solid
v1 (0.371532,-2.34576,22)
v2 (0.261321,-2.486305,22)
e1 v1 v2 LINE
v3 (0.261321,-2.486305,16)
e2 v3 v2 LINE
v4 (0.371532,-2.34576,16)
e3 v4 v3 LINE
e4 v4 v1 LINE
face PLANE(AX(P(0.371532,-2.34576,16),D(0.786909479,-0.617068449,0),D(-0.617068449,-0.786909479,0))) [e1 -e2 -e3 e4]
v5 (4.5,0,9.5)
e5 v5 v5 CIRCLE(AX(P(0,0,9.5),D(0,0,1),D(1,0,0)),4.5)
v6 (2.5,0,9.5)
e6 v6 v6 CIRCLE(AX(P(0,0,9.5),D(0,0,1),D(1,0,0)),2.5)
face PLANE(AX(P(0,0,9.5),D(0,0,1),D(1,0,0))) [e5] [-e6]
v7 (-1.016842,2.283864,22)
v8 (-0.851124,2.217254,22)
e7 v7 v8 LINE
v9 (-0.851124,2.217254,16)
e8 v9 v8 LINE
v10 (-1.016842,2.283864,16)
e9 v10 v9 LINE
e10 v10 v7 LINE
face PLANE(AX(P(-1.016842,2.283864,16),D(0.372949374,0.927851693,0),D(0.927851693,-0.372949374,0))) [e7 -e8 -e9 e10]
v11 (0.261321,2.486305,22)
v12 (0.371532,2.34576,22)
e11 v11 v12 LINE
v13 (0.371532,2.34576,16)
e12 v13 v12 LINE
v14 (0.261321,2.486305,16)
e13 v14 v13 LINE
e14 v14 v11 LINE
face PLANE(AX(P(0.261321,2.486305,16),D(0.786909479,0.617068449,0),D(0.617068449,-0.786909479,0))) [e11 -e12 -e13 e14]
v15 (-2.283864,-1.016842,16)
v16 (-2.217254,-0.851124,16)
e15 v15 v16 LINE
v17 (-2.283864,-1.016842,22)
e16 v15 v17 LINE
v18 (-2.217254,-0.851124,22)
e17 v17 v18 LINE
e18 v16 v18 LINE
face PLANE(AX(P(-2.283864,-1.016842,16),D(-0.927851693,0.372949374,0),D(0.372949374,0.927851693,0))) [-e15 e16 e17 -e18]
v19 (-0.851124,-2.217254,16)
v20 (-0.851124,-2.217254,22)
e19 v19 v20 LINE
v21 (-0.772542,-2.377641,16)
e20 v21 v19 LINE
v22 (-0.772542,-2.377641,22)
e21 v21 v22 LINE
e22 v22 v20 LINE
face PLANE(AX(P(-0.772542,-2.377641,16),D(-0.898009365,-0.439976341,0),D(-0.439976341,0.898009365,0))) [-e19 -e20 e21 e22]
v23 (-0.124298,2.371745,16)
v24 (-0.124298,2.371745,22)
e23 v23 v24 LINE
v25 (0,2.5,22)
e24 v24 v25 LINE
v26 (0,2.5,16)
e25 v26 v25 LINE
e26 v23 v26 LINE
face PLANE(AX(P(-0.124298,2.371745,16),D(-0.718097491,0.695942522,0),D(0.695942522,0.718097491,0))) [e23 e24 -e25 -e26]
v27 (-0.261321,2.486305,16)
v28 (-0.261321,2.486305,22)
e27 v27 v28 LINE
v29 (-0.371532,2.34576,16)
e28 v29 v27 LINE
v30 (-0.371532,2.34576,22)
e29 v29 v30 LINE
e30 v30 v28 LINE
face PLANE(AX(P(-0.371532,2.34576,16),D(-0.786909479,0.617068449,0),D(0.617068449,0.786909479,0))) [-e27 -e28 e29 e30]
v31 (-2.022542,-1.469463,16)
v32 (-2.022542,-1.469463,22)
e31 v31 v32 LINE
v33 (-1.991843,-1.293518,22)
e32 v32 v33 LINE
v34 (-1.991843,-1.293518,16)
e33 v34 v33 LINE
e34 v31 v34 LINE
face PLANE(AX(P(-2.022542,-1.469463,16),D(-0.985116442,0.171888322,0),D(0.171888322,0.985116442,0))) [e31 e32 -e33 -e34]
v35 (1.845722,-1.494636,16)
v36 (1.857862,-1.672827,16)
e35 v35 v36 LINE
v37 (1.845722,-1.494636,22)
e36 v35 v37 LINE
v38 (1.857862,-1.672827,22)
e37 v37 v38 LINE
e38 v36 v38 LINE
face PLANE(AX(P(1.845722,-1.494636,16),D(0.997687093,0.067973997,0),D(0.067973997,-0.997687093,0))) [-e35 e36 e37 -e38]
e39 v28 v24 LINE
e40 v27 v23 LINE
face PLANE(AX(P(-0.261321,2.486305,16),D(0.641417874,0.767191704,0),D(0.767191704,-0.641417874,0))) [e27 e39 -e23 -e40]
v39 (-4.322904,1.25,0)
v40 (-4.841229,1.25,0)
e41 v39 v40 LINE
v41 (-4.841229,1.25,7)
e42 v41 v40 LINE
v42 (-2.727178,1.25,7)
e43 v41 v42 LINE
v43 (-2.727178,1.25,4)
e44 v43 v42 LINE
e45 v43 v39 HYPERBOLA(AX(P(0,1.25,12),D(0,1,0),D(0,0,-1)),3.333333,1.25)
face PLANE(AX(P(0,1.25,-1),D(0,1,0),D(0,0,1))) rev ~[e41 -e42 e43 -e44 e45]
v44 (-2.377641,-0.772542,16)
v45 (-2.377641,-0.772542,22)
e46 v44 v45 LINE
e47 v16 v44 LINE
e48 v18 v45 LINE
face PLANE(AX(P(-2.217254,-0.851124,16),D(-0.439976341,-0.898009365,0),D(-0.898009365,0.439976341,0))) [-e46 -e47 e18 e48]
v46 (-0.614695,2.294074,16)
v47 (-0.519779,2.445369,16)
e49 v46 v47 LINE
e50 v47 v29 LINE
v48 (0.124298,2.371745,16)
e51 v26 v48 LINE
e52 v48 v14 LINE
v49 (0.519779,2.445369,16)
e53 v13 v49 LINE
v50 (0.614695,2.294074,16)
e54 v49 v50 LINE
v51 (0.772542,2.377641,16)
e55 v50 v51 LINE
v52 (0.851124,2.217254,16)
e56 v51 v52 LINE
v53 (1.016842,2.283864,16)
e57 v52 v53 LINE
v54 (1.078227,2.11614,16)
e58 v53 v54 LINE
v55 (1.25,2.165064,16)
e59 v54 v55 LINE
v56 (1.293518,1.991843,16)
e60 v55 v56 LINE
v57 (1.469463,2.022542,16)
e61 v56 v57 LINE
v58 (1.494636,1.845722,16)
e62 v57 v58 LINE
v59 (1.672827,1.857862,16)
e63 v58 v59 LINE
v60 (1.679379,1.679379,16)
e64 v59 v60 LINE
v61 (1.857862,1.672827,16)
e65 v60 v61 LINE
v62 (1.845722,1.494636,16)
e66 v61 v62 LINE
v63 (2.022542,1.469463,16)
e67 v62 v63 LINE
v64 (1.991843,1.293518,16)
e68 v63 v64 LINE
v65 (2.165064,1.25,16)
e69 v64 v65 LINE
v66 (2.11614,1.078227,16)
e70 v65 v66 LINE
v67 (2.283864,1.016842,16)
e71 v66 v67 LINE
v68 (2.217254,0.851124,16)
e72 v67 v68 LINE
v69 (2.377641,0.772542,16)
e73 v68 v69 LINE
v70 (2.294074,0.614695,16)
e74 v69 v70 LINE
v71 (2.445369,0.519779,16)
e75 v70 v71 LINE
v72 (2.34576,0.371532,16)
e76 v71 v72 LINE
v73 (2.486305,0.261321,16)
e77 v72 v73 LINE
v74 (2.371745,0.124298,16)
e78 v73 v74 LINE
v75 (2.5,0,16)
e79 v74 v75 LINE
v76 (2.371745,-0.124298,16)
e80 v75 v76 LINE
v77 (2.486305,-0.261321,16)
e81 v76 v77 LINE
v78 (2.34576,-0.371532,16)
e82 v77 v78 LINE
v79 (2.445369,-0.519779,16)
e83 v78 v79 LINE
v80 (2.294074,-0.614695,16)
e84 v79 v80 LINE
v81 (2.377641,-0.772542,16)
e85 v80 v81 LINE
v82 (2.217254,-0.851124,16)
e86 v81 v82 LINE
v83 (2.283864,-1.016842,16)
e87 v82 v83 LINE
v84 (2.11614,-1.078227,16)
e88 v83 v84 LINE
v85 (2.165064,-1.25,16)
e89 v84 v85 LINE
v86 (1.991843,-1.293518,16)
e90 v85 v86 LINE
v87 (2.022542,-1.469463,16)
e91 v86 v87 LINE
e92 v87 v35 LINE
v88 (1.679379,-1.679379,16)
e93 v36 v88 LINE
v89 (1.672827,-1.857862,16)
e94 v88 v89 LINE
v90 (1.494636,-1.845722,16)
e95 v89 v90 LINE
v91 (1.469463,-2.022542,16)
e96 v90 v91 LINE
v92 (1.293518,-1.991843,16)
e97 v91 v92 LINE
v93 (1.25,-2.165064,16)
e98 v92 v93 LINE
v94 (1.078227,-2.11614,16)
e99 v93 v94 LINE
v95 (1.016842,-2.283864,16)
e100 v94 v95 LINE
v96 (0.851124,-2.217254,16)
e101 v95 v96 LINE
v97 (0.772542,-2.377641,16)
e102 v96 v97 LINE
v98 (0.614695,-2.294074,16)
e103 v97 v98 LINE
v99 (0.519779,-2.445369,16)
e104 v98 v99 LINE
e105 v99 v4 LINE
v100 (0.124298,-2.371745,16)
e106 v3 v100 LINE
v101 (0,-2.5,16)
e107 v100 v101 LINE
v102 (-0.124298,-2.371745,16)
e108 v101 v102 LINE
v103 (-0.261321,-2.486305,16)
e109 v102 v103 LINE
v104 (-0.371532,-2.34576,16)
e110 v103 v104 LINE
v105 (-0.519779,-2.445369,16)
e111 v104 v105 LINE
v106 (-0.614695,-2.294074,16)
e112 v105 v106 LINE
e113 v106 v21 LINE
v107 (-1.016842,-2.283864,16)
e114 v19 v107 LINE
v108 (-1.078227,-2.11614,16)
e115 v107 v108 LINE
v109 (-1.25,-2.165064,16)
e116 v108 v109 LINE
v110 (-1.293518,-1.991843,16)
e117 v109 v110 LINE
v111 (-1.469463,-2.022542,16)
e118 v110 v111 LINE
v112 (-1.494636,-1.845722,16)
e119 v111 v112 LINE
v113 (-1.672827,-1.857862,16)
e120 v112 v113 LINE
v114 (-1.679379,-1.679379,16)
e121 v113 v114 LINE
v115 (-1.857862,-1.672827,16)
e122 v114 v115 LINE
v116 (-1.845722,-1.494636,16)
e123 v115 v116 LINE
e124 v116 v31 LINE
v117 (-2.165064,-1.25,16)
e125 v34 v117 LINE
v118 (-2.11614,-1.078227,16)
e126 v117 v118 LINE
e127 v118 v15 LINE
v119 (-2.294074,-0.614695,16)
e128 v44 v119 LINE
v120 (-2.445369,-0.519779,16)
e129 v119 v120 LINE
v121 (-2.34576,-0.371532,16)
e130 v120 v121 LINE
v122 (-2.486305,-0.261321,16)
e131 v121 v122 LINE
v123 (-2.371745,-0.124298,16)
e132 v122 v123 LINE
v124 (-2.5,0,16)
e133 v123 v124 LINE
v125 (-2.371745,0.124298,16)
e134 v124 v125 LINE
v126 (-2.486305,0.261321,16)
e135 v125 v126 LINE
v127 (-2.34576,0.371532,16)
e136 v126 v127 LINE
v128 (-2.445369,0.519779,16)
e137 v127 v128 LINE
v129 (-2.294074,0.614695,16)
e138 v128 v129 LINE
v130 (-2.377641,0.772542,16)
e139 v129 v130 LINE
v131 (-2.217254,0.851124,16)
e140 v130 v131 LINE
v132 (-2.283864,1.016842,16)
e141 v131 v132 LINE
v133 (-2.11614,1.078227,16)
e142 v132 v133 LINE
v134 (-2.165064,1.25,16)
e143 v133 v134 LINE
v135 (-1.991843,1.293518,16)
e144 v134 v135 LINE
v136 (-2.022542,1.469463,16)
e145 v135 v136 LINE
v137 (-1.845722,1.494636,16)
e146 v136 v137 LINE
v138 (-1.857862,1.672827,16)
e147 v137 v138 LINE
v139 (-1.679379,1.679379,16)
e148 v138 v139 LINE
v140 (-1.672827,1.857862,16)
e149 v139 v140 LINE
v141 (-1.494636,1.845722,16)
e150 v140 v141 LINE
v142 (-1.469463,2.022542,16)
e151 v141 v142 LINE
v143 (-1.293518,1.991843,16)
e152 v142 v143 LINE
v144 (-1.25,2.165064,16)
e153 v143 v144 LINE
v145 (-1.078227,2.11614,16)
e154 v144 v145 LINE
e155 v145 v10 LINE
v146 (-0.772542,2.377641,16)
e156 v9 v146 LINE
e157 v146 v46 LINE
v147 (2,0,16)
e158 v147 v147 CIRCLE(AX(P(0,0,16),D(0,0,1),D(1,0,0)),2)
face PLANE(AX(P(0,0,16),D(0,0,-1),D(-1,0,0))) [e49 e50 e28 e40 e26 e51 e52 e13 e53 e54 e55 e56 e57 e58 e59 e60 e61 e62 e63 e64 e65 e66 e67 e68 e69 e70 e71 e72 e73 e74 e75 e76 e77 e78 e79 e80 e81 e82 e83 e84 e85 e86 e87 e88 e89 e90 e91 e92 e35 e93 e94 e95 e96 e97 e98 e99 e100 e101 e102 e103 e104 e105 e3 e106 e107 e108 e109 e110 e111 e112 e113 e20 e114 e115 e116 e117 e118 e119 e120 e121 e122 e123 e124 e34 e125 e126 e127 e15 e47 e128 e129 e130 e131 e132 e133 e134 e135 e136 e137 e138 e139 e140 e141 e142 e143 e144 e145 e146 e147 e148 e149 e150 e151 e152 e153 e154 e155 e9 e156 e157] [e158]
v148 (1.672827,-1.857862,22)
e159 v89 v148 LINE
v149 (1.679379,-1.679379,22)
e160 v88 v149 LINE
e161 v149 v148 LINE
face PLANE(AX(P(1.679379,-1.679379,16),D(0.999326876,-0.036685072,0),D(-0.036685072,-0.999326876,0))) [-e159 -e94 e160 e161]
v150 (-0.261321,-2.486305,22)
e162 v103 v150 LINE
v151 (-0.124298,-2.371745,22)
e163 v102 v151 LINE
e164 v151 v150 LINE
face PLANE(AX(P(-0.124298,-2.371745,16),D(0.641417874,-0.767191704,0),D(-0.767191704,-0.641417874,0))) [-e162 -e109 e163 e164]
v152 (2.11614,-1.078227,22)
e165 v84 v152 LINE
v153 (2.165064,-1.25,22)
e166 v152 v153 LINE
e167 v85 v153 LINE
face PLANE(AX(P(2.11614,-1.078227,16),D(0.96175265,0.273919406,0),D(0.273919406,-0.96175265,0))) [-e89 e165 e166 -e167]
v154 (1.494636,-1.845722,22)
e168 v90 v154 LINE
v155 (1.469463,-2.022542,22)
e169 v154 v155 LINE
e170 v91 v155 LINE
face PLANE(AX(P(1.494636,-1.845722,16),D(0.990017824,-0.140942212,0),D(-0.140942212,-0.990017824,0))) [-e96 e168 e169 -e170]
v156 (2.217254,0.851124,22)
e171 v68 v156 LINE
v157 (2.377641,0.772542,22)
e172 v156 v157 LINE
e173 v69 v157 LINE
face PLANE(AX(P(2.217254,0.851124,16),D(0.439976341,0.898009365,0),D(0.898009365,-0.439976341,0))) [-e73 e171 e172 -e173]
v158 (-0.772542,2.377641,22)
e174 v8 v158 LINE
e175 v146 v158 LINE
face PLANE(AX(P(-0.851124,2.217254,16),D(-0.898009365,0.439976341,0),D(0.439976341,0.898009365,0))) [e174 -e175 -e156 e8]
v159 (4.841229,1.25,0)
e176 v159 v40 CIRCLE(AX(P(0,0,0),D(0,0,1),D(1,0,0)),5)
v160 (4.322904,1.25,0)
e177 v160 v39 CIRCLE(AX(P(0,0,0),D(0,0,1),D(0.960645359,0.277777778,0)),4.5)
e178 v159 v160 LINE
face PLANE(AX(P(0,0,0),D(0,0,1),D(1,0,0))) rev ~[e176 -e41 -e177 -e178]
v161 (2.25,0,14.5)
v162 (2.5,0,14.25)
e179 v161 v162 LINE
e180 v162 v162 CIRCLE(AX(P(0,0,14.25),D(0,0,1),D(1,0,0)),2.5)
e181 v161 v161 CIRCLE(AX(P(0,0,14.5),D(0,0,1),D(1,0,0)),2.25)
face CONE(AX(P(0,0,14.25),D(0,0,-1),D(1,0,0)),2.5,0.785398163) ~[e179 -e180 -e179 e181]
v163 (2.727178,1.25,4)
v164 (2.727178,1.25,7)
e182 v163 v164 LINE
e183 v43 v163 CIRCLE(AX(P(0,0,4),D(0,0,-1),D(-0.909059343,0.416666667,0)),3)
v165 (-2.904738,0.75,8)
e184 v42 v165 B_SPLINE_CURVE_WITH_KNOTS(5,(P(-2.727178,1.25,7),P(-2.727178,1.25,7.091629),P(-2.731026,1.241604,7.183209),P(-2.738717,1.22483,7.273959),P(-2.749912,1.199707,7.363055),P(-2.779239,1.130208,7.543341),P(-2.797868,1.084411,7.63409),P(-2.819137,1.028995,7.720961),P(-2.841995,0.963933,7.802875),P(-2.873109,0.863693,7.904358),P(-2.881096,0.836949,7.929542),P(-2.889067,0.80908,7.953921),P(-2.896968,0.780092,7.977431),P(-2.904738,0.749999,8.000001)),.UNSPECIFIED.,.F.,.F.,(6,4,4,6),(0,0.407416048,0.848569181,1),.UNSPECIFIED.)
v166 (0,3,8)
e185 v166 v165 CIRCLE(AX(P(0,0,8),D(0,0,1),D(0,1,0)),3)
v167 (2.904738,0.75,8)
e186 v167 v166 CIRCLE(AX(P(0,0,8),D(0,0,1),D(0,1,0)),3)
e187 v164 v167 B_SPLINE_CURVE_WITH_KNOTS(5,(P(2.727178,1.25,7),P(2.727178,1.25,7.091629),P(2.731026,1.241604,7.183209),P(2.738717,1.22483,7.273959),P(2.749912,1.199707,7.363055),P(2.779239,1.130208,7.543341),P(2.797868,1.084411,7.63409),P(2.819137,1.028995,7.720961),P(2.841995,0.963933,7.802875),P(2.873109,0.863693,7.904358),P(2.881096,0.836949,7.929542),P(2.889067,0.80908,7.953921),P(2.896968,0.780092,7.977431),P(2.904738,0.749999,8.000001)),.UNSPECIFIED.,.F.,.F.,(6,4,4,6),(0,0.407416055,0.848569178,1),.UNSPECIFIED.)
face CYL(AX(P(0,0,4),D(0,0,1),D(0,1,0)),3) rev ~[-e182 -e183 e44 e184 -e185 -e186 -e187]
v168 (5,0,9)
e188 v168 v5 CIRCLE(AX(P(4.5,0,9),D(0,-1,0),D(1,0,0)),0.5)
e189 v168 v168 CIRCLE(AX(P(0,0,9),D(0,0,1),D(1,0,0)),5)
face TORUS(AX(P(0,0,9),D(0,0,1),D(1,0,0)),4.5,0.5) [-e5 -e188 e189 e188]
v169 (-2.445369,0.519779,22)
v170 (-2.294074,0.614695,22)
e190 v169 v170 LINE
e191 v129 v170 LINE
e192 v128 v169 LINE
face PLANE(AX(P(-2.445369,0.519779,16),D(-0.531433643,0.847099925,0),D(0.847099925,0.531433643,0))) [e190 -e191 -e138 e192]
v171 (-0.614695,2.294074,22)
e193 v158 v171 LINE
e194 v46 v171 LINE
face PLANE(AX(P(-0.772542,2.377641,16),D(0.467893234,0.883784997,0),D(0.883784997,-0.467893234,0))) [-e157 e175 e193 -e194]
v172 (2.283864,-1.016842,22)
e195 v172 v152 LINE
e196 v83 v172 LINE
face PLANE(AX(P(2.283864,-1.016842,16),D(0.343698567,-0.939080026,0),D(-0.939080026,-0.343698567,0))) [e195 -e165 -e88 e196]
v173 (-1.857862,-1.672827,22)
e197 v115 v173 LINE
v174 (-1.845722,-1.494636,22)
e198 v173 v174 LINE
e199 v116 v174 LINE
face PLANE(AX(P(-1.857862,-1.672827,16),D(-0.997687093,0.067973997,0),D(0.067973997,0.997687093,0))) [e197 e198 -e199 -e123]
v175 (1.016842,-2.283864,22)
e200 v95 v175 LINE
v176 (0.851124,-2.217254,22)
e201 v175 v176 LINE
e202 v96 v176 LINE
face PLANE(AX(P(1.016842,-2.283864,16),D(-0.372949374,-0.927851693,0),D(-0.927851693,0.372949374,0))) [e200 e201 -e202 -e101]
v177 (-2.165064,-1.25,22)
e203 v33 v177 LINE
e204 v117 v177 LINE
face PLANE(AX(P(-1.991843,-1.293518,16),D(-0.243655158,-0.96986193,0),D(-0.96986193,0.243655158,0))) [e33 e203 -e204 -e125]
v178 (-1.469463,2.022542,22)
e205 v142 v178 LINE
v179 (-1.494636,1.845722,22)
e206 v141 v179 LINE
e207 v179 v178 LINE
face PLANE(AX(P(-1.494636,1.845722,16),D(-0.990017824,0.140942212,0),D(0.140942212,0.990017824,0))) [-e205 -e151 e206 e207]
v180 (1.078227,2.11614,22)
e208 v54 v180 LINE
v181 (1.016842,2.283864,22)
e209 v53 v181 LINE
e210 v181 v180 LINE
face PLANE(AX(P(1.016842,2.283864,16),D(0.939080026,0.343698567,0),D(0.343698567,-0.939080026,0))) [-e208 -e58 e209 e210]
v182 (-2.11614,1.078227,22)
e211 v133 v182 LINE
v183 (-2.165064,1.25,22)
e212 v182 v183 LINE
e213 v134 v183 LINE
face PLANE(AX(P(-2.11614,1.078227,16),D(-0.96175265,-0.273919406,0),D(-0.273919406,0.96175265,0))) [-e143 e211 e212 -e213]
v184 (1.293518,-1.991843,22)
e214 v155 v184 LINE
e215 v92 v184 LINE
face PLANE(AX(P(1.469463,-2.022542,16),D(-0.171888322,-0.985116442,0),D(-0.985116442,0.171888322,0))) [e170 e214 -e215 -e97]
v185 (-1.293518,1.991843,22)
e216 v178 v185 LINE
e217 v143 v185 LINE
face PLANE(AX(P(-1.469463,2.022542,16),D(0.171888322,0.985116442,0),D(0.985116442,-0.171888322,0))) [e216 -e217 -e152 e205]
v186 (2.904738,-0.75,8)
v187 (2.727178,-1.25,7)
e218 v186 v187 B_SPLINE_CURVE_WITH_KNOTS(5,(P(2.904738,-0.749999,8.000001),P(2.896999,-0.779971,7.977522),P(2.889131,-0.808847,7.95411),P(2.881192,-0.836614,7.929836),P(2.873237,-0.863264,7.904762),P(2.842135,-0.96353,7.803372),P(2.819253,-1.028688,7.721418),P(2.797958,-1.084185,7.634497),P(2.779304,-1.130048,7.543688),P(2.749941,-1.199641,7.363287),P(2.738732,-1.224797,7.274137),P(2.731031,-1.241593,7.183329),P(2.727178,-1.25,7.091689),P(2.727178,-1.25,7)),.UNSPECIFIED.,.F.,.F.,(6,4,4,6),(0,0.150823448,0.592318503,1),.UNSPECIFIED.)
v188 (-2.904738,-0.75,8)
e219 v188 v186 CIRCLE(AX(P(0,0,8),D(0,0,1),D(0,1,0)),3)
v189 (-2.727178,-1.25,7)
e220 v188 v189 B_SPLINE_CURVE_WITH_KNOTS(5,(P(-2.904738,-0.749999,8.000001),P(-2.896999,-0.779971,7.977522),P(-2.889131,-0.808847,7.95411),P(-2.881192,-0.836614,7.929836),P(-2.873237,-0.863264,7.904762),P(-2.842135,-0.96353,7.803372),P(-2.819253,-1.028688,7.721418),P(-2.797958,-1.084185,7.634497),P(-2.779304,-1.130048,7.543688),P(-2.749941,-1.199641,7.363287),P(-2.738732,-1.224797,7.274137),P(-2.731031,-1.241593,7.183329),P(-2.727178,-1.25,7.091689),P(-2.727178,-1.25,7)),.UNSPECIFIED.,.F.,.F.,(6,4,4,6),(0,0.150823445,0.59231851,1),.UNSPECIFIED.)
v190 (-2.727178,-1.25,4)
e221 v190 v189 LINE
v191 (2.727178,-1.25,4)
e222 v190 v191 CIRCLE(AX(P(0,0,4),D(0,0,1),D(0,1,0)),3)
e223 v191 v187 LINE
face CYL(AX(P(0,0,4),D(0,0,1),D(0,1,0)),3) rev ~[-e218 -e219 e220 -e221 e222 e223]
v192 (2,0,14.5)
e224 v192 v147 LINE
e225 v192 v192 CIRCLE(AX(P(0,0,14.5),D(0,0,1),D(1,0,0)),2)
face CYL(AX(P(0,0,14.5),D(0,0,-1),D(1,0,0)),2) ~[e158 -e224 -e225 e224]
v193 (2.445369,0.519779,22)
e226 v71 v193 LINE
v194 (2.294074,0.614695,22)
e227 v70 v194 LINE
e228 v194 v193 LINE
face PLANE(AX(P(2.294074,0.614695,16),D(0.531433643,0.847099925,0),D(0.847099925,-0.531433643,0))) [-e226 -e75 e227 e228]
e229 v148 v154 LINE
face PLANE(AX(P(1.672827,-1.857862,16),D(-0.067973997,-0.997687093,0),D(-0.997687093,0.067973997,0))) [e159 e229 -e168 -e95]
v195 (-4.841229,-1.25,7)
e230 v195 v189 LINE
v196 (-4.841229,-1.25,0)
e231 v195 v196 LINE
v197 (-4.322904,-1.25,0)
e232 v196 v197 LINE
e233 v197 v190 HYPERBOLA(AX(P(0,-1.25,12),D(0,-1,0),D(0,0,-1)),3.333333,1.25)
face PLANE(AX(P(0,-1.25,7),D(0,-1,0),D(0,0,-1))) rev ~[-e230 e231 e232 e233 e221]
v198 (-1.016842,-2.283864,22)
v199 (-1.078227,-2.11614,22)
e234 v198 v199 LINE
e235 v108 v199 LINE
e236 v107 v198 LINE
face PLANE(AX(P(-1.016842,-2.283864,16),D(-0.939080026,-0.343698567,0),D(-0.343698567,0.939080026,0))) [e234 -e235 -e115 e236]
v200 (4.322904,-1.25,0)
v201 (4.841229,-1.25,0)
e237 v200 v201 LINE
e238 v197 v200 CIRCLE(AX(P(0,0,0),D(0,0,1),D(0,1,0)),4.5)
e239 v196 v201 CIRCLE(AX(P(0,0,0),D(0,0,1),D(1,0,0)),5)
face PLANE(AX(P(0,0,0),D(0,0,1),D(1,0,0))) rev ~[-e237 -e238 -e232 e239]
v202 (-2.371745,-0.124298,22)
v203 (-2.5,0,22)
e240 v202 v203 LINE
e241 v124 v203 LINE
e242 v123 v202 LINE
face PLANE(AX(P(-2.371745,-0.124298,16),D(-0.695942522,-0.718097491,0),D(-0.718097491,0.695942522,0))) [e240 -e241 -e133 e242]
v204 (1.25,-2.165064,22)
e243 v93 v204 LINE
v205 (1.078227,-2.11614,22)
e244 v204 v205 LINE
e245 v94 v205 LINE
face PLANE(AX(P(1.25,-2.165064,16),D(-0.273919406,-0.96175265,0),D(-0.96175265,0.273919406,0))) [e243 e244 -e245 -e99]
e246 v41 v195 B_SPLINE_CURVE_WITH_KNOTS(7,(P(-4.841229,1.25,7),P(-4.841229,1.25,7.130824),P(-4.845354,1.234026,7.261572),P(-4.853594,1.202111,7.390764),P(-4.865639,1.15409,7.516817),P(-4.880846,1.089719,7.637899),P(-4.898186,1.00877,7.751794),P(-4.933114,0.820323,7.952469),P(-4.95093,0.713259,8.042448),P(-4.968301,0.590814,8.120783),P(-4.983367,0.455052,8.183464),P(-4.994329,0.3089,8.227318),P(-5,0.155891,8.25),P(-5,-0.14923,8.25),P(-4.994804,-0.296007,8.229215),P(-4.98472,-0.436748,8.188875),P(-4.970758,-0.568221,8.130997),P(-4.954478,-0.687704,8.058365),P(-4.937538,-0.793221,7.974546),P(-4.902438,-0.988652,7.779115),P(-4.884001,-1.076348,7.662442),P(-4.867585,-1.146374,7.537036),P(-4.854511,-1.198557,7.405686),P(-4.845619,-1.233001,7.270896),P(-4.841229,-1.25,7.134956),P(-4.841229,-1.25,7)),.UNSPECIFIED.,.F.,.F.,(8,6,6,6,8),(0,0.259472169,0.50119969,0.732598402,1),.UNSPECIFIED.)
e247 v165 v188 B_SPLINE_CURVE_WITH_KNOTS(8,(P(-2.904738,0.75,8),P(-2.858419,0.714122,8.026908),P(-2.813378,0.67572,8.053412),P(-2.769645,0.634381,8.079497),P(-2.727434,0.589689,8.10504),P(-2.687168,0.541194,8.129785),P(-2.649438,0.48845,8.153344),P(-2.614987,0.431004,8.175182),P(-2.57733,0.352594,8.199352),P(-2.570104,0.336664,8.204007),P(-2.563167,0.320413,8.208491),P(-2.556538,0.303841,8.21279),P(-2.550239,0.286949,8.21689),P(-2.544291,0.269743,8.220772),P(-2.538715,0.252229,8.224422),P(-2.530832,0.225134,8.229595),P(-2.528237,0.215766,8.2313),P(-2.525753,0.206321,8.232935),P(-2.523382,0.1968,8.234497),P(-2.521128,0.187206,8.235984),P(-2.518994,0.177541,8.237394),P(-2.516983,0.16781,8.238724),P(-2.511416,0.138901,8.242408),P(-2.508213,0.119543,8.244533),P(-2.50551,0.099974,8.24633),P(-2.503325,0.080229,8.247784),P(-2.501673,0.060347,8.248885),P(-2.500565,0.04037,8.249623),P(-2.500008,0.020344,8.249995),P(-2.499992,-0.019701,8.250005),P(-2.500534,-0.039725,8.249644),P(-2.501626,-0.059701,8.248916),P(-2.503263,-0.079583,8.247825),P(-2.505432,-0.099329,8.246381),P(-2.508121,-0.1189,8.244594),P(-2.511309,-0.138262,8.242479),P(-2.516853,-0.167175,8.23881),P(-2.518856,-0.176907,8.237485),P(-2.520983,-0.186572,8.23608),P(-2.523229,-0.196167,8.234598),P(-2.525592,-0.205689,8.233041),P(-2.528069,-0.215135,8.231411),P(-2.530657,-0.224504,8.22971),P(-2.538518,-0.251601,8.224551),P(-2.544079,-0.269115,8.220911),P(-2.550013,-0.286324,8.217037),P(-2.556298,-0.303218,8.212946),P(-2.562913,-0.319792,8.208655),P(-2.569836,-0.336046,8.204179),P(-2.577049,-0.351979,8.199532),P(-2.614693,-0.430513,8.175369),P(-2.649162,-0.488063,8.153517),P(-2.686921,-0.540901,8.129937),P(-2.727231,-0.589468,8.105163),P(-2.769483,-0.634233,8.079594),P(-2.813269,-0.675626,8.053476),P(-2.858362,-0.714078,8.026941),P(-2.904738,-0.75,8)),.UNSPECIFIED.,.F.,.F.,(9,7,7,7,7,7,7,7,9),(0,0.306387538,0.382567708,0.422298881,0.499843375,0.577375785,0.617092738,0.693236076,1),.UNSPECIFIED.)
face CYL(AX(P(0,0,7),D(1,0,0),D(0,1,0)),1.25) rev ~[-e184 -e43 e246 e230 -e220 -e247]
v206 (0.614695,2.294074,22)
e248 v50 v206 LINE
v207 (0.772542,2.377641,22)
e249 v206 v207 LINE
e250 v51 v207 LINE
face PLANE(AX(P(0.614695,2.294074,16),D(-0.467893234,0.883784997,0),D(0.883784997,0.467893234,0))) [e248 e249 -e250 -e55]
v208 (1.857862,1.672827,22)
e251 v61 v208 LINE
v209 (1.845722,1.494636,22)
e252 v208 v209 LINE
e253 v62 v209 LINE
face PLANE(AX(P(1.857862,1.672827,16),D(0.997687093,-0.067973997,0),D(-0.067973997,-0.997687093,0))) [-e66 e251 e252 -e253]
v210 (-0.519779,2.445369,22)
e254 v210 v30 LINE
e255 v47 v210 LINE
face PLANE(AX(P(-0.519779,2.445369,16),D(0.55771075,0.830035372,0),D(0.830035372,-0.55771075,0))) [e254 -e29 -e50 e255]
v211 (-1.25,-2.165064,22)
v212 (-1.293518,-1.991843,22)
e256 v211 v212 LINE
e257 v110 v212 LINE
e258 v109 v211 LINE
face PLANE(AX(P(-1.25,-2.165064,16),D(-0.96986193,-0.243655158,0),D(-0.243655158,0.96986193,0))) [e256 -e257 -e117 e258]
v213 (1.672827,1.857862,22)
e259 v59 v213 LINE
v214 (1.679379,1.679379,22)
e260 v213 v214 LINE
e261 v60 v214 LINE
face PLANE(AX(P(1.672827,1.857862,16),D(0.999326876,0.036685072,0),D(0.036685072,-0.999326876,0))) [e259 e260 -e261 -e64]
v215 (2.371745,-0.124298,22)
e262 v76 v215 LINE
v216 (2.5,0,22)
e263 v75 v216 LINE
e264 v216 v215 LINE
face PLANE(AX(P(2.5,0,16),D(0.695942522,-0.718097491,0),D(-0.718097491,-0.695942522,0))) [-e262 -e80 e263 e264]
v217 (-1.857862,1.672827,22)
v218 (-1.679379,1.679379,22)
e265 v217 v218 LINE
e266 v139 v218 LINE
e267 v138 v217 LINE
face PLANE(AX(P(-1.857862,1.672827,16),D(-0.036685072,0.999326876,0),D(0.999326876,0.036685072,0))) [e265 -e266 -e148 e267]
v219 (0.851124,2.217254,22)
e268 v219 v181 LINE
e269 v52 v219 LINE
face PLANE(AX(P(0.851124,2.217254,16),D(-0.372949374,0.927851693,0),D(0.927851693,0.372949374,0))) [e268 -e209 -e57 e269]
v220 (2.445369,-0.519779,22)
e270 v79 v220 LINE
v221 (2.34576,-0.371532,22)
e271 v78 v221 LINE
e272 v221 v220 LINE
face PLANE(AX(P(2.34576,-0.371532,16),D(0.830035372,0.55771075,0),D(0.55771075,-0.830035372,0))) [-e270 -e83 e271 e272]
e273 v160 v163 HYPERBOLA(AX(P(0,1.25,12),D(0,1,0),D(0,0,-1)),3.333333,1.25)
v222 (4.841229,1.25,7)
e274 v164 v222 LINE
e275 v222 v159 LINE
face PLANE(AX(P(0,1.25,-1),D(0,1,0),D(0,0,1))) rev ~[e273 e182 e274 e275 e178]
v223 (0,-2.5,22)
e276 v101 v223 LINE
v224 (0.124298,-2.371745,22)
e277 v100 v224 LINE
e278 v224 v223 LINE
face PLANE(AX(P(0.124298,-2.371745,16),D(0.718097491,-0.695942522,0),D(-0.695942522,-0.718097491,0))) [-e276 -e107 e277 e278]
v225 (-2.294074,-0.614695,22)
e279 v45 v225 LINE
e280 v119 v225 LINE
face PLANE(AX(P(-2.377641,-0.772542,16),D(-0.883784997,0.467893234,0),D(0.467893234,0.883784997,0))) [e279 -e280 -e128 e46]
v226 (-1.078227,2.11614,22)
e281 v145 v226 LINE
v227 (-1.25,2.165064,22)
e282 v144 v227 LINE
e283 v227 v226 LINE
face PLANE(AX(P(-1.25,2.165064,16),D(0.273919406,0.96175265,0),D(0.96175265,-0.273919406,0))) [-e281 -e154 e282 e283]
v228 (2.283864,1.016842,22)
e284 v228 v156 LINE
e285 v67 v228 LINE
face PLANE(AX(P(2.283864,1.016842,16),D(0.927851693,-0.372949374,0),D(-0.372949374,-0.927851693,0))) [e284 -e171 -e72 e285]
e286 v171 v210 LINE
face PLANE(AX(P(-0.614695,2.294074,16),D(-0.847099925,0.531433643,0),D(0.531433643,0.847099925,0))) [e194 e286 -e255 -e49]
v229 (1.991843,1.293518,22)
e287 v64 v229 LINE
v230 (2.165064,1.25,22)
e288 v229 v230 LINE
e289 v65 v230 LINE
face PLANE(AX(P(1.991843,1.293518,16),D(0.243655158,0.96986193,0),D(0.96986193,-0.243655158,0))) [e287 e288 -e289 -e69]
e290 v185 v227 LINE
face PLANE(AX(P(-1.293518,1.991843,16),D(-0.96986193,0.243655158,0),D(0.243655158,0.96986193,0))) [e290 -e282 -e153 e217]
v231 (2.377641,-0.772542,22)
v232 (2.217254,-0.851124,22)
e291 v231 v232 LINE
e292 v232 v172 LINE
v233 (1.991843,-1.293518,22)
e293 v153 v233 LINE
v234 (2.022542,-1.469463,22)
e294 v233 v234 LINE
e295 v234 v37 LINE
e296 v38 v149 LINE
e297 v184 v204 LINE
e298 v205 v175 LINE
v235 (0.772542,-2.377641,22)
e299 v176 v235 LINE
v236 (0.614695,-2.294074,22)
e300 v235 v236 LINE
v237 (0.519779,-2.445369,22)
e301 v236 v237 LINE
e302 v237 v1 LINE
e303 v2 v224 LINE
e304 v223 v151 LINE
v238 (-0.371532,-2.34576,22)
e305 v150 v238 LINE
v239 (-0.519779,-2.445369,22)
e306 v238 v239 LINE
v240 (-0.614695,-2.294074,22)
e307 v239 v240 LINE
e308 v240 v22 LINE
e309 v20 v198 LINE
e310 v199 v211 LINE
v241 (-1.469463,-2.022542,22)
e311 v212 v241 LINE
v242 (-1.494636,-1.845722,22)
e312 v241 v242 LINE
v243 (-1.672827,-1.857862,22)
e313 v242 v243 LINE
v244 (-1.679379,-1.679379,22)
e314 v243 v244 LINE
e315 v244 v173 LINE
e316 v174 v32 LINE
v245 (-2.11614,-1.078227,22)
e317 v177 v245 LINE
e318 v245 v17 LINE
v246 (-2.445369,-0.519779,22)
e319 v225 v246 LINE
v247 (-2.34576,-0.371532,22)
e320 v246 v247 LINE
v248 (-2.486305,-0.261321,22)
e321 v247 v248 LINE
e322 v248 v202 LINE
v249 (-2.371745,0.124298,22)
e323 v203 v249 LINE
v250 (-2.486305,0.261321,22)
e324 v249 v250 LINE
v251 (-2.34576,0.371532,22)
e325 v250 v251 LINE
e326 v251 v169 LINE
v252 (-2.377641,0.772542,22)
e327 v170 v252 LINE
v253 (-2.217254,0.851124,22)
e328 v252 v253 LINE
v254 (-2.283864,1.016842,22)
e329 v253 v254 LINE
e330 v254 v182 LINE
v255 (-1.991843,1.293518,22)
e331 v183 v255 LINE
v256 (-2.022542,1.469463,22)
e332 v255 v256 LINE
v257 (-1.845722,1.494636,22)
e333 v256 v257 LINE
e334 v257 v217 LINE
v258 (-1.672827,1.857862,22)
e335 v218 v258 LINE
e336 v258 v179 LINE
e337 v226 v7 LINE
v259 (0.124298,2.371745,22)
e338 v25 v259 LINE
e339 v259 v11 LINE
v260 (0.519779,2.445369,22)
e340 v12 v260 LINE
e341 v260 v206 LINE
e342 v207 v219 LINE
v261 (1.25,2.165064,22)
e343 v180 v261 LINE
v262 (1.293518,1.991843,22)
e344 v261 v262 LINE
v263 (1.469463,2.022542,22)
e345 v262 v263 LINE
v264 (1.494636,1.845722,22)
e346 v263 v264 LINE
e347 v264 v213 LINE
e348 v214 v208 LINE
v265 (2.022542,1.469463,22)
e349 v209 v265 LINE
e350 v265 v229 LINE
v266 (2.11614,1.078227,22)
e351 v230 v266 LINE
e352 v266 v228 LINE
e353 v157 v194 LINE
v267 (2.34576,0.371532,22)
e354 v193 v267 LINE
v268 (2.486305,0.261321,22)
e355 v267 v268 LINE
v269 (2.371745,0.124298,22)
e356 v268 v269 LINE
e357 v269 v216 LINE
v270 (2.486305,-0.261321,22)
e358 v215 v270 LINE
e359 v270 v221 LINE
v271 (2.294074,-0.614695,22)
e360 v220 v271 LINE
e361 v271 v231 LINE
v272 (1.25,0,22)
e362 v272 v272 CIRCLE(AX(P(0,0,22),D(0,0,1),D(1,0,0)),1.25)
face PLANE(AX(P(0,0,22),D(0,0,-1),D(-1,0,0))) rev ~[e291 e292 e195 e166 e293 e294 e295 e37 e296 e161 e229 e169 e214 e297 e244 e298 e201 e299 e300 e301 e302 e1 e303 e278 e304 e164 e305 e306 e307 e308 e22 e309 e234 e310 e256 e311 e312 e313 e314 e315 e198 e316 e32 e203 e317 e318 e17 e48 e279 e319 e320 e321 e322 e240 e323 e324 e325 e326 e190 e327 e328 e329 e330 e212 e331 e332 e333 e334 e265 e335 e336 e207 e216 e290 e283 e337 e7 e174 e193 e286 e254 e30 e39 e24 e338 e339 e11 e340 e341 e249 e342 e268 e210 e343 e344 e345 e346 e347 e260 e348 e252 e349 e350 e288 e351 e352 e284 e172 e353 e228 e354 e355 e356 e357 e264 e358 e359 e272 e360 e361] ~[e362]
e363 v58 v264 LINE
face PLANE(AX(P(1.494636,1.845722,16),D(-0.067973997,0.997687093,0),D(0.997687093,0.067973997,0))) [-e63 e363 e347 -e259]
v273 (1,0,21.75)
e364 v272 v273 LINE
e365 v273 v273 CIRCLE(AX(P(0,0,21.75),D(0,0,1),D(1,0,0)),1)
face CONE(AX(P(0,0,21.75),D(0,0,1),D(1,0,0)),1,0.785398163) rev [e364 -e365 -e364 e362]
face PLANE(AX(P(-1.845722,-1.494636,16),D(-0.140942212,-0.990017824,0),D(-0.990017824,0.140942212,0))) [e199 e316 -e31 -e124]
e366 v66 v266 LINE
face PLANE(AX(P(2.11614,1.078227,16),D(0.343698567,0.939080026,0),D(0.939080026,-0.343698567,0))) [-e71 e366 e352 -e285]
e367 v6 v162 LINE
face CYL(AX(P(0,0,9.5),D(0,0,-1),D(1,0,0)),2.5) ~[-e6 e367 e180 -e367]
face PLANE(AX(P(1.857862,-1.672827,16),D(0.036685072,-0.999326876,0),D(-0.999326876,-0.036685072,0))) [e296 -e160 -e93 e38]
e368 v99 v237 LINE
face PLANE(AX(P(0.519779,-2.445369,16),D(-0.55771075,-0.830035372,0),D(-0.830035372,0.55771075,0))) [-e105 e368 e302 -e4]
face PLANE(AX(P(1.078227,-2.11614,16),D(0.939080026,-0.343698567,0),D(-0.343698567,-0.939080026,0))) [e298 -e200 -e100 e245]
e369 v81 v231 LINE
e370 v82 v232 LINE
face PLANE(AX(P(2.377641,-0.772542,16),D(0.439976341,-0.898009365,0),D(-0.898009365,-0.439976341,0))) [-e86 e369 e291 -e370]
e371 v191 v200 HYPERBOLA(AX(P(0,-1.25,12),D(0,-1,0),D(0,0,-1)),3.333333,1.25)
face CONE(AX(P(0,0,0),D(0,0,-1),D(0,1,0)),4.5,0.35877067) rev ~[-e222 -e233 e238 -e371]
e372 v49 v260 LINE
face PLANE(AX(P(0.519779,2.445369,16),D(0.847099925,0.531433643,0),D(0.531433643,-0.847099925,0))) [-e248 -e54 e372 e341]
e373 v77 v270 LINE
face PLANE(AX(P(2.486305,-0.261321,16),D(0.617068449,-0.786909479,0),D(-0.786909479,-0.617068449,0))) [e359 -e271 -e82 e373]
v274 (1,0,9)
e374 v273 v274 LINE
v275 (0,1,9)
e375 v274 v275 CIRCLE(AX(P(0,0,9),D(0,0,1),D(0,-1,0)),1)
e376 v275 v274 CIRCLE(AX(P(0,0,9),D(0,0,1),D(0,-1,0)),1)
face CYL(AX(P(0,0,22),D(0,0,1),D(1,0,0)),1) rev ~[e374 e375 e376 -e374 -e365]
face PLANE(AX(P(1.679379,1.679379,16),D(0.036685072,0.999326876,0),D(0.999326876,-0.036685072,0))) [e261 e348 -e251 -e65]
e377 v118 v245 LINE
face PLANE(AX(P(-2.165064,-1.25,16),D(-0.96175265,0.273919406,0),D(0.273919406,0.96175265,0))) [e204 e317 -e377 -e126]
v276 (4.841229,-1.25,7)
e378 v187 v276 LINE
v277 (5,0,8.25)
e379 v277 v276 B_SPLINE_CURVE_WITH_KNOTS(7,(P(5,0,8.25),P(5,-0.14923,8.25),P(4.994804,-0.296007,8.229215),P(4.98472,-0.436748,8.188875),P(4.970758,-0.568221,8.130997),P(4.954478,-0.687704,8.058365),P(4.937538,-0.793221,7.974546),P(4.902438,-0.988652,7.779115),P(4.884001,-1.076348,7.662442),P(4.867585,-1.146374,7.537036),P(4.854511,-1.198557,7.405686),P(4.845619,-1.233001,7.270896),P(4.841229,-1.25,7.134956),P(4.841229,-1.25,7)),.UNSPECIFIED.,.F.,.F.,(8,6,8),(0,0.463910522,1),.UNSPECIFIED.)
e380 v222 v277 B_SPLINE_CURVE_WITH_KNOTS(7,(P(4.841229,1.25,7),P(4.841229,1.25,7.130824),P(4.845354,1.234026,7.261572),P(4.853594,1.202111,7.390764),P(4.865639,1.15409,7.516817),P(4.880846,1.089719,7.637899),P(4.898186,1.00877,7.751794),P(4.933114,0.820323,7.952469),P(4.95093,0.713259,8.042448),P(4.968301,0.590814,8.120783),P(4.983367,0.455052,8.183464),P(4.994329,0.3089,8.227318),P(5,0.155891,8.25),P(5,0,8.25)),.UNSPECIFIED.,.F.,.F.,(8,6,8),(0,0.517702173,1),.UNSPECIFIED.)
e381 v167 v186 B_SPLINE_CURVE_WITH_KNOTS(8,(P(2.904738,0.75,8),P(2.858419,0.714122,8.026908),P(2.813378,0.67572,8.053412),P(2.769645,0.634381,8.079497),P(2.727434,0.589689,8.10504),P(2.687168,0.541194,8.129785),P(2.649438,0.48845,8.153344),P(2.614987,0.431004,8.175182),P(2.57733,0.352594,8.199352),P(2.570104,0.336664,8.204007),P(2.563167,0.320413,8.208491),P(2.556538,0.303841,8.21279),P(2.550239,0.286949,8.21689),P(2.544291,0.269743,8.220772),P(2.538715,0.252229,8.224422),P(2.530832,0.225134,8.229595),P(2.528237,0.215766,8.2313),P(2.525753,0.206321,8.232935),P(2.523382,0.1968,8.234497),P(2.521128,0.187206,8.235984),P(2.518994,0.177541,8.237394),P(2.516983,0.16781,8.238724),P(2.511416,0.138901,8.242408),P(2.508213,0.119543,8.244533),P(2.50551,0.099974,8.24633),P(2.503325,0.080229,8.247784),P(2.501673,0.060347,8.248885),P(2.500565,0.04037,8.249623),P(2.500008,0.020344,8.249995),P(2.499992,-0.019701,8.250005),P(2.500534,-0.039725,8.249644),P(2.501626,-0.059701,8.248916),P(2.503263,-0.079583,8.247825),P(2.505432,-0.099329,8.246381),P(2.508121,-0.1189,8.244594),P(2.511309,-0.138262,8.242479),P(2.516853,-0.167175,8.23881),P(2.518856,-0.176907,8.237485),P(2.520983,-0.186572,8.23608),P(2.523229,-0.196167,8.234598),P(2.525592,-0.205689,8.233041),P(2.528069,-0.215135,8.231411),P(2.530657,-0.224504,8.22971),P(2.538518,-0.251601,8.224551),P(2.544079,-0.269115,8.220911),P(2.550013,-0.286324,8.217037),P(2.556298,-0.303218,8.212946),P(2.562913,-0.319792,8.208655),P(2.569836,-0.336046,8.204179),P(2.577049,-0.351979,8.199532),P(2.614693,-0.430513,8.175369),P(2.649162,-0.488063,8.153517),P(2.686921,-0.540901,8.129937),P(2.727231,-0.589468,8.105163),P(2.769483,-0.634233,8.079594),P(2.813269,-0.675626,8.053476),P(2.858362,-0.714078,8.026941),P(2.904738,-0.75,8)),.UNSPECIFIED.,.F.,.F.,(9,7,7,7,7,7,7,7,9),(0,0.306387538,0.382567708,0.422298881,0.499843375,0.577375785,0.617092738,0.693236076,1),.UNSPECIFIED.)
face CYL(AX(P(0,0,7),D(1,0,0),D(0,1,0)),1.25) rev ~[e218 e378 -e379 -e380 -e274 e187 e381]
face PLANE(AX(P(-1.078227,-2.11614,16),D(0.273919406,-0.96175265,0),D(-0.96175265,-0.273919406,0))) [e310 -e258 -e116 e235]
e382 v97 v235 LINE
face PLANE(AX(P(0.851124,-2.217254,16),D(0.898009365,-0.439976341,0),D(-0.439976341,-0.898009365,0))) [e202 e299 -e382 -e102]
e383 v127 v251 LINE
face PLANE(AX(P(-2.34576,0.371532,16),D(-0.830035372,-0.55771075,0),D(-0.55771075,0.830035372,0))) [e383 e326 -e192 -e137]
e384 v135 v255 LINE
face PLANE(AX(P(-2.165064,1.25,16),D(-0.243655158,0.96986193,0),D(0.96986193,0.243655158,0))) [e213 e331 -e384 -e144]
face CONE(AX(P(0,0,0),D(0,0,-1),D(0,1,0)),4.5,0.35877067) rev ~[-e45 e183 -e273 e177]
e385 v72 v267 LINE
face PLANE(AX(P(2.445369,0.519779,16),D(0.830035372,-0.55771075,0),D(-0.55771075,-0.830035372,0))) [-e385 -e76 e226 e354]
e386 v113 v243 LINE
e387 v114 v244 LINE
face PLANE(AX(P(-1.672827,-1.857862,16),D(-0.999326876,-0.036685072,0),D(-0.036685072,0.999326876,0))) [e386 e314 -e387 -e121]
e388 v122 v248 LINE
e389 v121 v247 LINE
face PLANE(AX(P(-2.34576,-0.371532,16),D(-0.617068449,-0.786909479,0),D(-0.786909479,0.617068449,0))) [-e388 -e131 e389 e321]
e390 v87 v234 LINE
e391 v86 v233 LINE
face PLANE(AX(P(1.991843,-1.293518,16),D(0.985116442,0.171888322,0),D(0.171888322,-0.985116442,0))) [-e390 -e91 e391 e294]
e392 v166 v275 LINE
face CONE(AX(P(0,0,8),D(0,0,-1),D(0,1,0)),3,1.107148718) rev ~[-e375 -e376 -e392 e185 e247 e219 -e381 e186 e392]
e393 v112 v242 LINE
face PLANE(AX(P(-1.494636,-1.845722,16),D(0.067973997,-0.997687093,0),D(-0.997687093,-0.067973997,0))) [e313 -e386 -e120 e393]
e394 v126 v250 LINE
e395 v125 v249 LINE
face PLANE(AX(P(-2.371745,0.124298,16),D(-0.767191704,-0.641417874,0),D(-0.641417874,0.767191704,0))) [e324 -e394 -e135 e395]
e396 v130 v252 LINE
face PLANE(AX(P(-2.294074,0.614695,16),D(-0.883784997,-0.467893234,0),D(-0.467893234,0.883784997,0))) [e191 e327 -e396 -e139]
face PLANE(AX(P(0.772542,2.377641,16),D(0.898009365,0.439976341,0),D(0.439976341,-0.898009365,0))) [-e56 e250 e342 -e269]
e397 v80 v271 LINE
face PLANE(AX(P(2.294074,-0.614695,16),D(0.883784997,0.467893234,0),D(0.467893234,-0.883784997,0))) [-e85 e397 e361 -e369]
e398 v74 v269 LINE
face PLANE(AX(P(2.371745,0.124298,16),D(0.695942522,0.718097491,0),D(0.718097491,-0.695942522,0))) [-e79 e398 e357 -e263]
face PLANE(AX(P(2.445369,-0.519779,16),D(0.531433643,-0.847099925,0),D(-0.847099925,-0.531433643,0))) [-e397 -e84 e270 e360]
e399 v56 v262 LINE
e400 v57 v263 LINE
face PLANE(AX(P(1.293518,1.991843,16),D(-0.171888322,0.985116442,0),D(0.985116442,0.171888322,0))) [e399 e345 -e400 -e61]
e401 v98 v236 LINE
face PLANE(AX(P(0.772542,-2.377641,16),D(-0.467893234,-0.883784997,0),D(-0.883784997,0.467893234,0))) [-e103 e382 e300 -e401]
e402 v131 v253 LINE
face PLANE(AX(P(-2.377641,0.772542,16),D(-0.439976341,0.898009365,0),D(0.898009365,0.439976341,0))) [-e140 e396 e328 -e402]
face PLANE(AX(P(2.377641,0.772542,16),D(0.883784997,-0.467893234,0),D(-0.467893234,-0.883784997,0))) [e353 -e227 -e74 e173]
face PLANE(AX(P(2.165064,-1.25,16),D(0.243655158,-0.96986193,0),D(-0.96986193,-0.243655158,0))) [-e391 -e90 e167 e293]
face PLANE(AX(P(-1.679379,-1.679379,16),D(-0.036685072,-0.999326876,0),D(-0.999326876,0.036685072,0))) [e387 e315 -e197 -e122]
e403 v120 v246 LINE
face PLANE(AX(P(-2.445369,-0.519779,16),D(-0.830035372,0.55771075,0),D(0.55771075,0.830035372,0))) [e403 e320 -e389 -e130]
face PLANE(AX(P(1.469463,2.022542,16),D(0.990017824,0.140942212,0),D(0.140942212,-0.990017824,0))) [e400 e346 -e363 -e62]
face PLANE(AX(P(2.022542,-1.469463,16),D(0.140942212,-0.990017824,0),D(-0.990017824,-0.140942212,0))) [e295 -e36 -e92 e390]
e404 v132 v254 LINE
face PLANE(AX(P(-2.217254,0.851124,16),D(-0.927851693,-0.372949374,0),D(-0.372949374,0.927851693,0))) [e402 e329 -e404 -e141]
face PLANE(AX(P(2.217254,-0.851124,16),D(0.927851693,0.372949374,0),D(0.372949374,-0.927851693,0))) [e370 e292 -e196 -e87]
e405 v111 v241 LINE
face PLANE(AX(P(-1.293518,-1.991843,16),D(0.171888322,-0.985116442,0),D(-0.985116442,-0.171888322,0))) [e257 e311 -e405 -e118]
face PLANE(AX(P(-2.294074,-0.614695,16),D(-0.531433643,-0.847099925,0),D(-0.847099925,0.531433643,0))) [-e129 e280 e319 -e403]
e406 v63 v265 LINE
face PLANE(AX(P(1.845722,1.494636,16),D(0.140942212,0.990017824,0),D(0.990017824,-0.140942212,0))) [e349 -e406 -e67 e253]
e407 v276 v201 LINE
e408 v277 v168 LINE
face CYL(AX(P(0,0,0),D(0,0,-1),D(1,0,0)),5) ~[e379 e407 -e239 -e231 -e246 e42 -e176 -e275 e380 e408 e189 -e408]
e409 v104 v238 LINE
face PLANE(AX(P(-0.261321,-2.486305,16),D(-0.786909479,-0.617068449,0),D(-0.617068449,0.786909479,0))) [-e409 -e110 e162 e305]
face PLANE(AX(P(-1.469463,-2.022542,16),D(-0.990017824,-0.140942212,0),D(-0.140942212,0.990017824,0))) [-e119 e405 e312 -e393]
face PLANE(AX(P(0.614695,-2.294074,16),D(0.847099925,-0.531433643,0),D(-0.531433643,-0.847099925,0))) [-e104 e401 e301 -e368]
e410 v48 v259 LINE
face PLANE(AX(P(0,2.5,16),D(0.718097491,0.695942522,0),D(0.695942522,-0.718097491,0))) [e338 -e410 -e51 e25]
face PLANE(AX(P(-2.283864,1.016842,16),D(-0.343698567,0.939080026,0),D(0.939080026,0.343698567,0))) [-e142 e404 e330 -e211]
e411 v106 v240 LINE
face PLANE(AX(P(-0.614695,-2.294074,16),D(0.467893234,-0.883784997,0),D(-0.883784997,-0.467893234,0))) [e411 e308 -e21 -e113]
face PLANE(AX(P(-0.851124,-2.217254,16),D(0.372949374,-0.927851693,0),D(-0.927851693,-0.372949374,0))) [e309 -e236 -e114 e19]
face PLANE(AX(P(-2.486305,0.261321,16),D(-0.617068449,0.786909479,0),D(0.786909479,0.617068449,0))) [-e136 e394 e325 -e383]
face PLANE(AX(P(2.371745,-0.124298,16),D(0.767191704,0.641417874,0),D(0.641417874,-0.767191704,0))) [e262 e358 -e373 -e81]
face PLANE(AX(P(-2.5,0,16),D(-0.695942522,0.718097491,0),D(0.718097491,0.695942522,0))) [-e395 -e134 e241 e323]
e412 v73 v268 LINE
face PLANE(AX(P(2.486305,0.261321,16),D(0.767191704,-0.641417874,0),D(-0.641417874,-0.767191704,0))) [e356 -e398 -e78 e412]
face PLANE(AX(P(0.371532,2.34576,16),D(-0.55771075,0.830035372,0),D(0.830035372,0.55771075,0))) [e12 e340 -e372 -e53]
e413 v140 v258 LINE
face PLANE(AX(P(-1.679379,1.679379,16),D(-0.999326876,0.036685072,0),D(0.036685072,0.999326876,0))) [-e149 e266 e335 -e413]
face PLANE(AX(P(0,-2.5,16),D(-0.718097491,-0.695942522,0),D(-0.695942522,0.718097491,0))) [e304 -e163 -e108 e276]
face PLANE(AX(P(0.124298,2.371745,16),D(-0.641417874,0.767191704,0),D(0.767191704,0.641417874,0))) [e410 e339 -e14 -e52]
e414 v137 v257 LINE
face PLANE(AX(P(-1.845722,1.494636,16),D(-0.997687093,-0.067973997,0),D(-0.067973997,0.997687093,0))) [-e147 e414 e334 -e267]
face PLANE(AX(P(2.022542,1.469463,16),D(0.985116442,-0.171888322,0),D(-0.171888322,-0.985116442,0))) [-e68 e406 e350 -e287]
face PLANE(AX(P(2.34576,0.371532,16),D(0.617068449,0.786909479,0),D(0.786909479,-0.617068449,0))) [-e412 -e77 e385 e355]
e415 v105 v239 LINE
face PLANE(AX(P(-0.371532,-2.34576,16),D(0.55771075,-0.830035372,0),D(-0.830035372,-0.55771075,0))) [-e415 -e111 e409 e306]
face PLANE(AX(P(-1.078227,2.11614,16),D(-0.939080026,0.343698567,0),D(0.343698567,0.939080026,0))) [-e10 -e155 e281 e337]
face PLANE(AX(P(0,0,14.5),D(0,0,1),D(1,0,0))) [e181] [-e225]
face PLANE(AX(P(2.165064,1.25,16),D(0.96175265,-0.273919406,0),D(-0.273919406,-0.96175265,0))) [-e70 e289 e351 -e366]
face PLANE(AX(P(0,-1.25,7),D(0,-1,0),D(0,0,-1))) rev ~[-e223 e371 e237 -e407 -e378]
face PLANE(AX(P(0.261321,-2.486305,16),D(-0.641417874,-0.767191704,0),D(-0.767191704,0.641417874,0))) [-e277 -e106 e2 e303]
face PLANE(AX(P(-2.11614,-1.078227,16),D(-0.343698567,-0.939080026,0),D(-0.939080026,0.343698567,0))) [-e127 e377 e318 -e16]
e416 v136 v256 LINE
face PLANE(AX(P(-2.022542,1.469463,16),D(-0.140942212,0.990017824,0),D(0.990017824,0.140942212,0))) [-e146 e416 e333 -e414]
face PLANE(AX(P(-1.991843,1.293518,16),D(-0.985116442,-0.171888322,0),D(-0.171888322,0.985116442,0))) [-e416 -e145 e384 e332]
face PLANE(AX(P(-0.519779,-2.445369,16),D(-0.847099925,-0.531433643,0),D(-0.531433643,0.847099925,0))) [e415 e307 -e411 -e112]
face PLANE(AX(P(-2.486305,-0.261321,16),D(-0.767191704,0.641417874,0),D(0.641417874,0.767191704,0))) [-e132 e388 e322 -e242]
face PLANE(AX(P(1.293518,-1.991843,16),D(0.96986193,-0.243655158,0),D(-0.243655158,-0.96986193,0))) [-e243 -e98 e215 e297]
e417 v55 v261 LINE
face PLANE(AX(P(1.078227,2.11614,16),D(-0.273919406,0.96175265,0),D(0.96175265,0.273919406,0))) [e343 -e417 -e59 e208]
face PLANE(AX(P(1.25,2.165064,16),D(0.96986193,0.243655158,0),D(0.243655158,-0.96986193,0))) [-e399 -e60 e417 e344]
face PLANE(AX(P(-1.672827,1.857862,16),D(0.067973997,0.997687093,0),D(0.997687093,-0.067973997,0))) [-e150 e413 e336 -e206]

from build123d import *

# Parameters (mm, degrees)
ESQUISSE1_R             = 5
BASE_EXTRUSION_DEPTH    = 9.5
ESQUISSE2_R             = 2.5
BOSS_EXTRU_1_DEPTH      = 5
CONG_1_R                = 0.5
ENL_V_MAT_EXTRU_1_DEPTH = 16
ESQUISSE11_R            = 2
BOSS_EXTRU_2_DEPTH      = 1.5
BOSS_EXTRU_3_DEPTH      = 6
ESQUISSE13_R            = 1
ENL_V_MAT_EXTRU_2_DEPTH = 18
CHANFREIN1_SIZE         = 0.25


with BuildPart() as part:
    # Esquisse1 → Base-Extrusion (new body)
    with BuildSketch(Plane.XY):
        Circle(ESQUISSE1_R)
    extrude(amount=BASE_EXTRUSION_DEPTH)

    # Esquisse2 → Boss.-Extru.1 (add)
    with BuildSketch(Plane.XY.offset(9.5)):
        Circle(ESQUISSE2_R)
    extrude(amount=BOSS_EXTRU_1_DEPTH)

    # Congé1
    cong_1_edges = [part.edges().sort_by_distance(p)[0] for p in [
        (-5, 0, 9.5),
    ]]
    fillet(cong_1_edges, radius=CONG_1_R)

    # Esquisse7 → Enlèv. mat.-Extru.1 (cut, symmetric)
    with BuildSketch(Plane(origin=(0, 0, 0), x_dir=(0, 0, -1), z_dir=(1, 0, 0))):
        with BuildLine():
            Line((1, 1.25), (-7, 1.25))
            ThreePointArc((-7, 1.25), (-8.25, 0), (-7, -1.25))
            Line((-7, -1.25), (1, -1.25))
            Line((1, -1.25), (1, 1.25))
        make_face()
    extrude(amount=ENL_V_MAT_EXTRU_1_DEPTH, both=True, mode=Mode.SUBTRACT)

    # Esquisse8 → Enlèvement de matière-Révolution1 (revolve, cut)
    with BuildSketch(Plane(origin=(0, 0, 0), x_dir=(0, 0, -1), z_dir=(1, 0, 0))):
        Polygon((0, 4.5), (-4, 3), (-8, 3), (-9.5, 0), (0, 0), align=None)
    revolve(axis=Axis((0, 0, 0), (0, 0, 1)), mode=Mode.SUBTRACT)

    # Esquisse11 → Boss.-Extru.2 (add)
    with BuildSketch(Plane.XY.offset(14.5)):
        Circle(ESQUISSE11_R)
    extrude(amount=BOSS_EXTRU_2_DEPTH)

    # Esquisse12 → Boss.-Extru.3 (add)
    with BuildSketch(Plane.XY.offset(16)):
        Polygon((-0.124297896, 2.371745145), (0, 2.5), (0.124297896, 2.371745145), (0.261321158, 2.486304738), (0.371531854, 2.345759809), (0.519779227, 2.445369002), (0.614695232, 2.294073837), (0.772542486, 2.377641291), (0.85112388, 2.217253513), (1.016841608, 2.283863644), (1.078227437, 2.116140495), (1.25, 2.165063509), (1.293517708, 1.991842599), (1.469463131, 2.022542486), (1.494635929, 1.845721658), (1.672826516, 1.857862064), (1.679378605, 1.679378605), (1.857862064, 1.672826516), (1.845721658, 1.494635929), (2.022542486, 1.469463131), (1.991842599, 1.293517708), (2.165063509, 1.25), (2.116140495, 1.078227437), (2.283863644, 1.016841608), (2.217253513, 0.85112388), (2.377641291, 0.772542486), (2.294073837, 0.614695232), (2.445369002, 0.519779227), (2.345759809, 0.371531854), (2.486304738, 0.261321158), (2.371745145, 0.124297896), (2.5, 0), (2.371745145, -0.124297896), (2.486304738, -0.261321158), (2.345759809, -0.371531854), (2.445369002, -0.519779227), (2.294073837, -0.614695232), (2.377641291, -0.772542486), (2.217253513, -0.85112388), (2.283863644, -1.016841608), (2.116140495, -1.078227437), (2.165063509, -1.25), (1.991842599, -1.293517708), (2.022542486, -1.469463131), (1.845721658, -1.494635929), (1.857862064, -1.672826516), (1.679378605, -1.679378605), (1.672826516, -1.857862064), (1.494635929, -1.845721658), (1.469463131, -2.022542486), (1.293517708, -1.991842599), (1.25, -2.165063509), (1.078227437, -2.116140495), (1.016841608, -2.283863644), (0.85112388, -2.217253513), (0.772542486, -2.377641291), (0.614695232, -2.294073837), (0.519779227, -2.445369002), (0.371531854, -2.345759809), (0.261321158, -2.486304738), (0.124297896, -2.371745145), (0, -2.5), (-0.124297896, -2.371745145), (-0.261321158, -2.486304738), (-0.371531854, -2.345759809), (-0.519779227, -2.445369002), (-0.614695232, -2.294073837), (-0.772542486, -2.377641291), (-0.85112388, -2.217253513), (-1.016841608, -2.283863644), (-1.078227437, -2.116140495), (-1.25, -2.165063509), (-1.293517708, -1.991842599), (-1.469463131, -2.022542486), (-1.494635929, -1.845721658), (-1.672826516, -1.857862064), (-1.679378605, -1.679378605), (-1.857862064, -1.672826516), (-1.845721658, -1.494635929), (-2.022542486, -1.469463131), (-1.991842599, -1.293517708), (-2.165063509, -1.25), (-2.116140495, -1.078227437), (-2.283863644, -1.016841608), (-2.217253513, -0.85112388), (-2.377641291, -0.772542486), (-2.294073837, -0.614695232), (-2.445369002, -0.519779227), (-2.345759809, -0.371531854), (-2.486304738, -0.261321158), (-2.371745145, -0.124297896), (-2.5, 0), (-2.371745145, 0.124297896), (-2.486304738, 0.261321158), (-2.345759809, 0.371531854), (-2.445369002, 0.519779227), (-2.294073837, 0.614695232), (-2.377641291, 0.772542486), (-2.217253513, 0.85112388), (-2.283863644, 1.016841608), (-2.116140495, 1.078227437), (-2.165063509, 1.25), (-1.991842599, 1.293517708), (-2.022542486, 1.469463131), (-1.845721658, 1.494635929), (-1.857862064, 1.672826516), (-1.679378605, 1.679378605), (-1.672826516, 1.857862064), (-1.494635929, 1.845721658), (-1.469463131, 2.022542486), (-1.293517708, 1.991842599), (-1.25, 2.165063509), (-1.078227437, 2.116140495), (-1.016841608, 2.283863644), (-0.85112388, 2.217253513), (-0.772542486, 2.377641291), (-0.614695232, 2.294073837), (-0.519779227, 2.445369002), (-0.371531854, 2.345759809), (-0.261321158, 2.486304738), align=None)
    extrude(amount=BOSS_EXTRU_3_DEPTH)

    # Esquisse13 → Enlèv. mat.-Extru.2 (cut)
    with BuildSketch(Plane.XY.offset(22)):
        Circle(ESQUISSE13_R)
    extrude(amount=-ENL_V_MAT_EXTRU_2_DEPTH, mode=Mode.SUBTRACT)

    # Chanfrein1
    chanfrein1_edges = [part.edges().sort_by_distance(p)[0] for p in [
        (-1, 0, 22),
        (-2.5, 0, 14.5),
    ]]
    chamfer(chanfrein1_edges, length=CHANFREIN1_SIZE)


solid = part.part
